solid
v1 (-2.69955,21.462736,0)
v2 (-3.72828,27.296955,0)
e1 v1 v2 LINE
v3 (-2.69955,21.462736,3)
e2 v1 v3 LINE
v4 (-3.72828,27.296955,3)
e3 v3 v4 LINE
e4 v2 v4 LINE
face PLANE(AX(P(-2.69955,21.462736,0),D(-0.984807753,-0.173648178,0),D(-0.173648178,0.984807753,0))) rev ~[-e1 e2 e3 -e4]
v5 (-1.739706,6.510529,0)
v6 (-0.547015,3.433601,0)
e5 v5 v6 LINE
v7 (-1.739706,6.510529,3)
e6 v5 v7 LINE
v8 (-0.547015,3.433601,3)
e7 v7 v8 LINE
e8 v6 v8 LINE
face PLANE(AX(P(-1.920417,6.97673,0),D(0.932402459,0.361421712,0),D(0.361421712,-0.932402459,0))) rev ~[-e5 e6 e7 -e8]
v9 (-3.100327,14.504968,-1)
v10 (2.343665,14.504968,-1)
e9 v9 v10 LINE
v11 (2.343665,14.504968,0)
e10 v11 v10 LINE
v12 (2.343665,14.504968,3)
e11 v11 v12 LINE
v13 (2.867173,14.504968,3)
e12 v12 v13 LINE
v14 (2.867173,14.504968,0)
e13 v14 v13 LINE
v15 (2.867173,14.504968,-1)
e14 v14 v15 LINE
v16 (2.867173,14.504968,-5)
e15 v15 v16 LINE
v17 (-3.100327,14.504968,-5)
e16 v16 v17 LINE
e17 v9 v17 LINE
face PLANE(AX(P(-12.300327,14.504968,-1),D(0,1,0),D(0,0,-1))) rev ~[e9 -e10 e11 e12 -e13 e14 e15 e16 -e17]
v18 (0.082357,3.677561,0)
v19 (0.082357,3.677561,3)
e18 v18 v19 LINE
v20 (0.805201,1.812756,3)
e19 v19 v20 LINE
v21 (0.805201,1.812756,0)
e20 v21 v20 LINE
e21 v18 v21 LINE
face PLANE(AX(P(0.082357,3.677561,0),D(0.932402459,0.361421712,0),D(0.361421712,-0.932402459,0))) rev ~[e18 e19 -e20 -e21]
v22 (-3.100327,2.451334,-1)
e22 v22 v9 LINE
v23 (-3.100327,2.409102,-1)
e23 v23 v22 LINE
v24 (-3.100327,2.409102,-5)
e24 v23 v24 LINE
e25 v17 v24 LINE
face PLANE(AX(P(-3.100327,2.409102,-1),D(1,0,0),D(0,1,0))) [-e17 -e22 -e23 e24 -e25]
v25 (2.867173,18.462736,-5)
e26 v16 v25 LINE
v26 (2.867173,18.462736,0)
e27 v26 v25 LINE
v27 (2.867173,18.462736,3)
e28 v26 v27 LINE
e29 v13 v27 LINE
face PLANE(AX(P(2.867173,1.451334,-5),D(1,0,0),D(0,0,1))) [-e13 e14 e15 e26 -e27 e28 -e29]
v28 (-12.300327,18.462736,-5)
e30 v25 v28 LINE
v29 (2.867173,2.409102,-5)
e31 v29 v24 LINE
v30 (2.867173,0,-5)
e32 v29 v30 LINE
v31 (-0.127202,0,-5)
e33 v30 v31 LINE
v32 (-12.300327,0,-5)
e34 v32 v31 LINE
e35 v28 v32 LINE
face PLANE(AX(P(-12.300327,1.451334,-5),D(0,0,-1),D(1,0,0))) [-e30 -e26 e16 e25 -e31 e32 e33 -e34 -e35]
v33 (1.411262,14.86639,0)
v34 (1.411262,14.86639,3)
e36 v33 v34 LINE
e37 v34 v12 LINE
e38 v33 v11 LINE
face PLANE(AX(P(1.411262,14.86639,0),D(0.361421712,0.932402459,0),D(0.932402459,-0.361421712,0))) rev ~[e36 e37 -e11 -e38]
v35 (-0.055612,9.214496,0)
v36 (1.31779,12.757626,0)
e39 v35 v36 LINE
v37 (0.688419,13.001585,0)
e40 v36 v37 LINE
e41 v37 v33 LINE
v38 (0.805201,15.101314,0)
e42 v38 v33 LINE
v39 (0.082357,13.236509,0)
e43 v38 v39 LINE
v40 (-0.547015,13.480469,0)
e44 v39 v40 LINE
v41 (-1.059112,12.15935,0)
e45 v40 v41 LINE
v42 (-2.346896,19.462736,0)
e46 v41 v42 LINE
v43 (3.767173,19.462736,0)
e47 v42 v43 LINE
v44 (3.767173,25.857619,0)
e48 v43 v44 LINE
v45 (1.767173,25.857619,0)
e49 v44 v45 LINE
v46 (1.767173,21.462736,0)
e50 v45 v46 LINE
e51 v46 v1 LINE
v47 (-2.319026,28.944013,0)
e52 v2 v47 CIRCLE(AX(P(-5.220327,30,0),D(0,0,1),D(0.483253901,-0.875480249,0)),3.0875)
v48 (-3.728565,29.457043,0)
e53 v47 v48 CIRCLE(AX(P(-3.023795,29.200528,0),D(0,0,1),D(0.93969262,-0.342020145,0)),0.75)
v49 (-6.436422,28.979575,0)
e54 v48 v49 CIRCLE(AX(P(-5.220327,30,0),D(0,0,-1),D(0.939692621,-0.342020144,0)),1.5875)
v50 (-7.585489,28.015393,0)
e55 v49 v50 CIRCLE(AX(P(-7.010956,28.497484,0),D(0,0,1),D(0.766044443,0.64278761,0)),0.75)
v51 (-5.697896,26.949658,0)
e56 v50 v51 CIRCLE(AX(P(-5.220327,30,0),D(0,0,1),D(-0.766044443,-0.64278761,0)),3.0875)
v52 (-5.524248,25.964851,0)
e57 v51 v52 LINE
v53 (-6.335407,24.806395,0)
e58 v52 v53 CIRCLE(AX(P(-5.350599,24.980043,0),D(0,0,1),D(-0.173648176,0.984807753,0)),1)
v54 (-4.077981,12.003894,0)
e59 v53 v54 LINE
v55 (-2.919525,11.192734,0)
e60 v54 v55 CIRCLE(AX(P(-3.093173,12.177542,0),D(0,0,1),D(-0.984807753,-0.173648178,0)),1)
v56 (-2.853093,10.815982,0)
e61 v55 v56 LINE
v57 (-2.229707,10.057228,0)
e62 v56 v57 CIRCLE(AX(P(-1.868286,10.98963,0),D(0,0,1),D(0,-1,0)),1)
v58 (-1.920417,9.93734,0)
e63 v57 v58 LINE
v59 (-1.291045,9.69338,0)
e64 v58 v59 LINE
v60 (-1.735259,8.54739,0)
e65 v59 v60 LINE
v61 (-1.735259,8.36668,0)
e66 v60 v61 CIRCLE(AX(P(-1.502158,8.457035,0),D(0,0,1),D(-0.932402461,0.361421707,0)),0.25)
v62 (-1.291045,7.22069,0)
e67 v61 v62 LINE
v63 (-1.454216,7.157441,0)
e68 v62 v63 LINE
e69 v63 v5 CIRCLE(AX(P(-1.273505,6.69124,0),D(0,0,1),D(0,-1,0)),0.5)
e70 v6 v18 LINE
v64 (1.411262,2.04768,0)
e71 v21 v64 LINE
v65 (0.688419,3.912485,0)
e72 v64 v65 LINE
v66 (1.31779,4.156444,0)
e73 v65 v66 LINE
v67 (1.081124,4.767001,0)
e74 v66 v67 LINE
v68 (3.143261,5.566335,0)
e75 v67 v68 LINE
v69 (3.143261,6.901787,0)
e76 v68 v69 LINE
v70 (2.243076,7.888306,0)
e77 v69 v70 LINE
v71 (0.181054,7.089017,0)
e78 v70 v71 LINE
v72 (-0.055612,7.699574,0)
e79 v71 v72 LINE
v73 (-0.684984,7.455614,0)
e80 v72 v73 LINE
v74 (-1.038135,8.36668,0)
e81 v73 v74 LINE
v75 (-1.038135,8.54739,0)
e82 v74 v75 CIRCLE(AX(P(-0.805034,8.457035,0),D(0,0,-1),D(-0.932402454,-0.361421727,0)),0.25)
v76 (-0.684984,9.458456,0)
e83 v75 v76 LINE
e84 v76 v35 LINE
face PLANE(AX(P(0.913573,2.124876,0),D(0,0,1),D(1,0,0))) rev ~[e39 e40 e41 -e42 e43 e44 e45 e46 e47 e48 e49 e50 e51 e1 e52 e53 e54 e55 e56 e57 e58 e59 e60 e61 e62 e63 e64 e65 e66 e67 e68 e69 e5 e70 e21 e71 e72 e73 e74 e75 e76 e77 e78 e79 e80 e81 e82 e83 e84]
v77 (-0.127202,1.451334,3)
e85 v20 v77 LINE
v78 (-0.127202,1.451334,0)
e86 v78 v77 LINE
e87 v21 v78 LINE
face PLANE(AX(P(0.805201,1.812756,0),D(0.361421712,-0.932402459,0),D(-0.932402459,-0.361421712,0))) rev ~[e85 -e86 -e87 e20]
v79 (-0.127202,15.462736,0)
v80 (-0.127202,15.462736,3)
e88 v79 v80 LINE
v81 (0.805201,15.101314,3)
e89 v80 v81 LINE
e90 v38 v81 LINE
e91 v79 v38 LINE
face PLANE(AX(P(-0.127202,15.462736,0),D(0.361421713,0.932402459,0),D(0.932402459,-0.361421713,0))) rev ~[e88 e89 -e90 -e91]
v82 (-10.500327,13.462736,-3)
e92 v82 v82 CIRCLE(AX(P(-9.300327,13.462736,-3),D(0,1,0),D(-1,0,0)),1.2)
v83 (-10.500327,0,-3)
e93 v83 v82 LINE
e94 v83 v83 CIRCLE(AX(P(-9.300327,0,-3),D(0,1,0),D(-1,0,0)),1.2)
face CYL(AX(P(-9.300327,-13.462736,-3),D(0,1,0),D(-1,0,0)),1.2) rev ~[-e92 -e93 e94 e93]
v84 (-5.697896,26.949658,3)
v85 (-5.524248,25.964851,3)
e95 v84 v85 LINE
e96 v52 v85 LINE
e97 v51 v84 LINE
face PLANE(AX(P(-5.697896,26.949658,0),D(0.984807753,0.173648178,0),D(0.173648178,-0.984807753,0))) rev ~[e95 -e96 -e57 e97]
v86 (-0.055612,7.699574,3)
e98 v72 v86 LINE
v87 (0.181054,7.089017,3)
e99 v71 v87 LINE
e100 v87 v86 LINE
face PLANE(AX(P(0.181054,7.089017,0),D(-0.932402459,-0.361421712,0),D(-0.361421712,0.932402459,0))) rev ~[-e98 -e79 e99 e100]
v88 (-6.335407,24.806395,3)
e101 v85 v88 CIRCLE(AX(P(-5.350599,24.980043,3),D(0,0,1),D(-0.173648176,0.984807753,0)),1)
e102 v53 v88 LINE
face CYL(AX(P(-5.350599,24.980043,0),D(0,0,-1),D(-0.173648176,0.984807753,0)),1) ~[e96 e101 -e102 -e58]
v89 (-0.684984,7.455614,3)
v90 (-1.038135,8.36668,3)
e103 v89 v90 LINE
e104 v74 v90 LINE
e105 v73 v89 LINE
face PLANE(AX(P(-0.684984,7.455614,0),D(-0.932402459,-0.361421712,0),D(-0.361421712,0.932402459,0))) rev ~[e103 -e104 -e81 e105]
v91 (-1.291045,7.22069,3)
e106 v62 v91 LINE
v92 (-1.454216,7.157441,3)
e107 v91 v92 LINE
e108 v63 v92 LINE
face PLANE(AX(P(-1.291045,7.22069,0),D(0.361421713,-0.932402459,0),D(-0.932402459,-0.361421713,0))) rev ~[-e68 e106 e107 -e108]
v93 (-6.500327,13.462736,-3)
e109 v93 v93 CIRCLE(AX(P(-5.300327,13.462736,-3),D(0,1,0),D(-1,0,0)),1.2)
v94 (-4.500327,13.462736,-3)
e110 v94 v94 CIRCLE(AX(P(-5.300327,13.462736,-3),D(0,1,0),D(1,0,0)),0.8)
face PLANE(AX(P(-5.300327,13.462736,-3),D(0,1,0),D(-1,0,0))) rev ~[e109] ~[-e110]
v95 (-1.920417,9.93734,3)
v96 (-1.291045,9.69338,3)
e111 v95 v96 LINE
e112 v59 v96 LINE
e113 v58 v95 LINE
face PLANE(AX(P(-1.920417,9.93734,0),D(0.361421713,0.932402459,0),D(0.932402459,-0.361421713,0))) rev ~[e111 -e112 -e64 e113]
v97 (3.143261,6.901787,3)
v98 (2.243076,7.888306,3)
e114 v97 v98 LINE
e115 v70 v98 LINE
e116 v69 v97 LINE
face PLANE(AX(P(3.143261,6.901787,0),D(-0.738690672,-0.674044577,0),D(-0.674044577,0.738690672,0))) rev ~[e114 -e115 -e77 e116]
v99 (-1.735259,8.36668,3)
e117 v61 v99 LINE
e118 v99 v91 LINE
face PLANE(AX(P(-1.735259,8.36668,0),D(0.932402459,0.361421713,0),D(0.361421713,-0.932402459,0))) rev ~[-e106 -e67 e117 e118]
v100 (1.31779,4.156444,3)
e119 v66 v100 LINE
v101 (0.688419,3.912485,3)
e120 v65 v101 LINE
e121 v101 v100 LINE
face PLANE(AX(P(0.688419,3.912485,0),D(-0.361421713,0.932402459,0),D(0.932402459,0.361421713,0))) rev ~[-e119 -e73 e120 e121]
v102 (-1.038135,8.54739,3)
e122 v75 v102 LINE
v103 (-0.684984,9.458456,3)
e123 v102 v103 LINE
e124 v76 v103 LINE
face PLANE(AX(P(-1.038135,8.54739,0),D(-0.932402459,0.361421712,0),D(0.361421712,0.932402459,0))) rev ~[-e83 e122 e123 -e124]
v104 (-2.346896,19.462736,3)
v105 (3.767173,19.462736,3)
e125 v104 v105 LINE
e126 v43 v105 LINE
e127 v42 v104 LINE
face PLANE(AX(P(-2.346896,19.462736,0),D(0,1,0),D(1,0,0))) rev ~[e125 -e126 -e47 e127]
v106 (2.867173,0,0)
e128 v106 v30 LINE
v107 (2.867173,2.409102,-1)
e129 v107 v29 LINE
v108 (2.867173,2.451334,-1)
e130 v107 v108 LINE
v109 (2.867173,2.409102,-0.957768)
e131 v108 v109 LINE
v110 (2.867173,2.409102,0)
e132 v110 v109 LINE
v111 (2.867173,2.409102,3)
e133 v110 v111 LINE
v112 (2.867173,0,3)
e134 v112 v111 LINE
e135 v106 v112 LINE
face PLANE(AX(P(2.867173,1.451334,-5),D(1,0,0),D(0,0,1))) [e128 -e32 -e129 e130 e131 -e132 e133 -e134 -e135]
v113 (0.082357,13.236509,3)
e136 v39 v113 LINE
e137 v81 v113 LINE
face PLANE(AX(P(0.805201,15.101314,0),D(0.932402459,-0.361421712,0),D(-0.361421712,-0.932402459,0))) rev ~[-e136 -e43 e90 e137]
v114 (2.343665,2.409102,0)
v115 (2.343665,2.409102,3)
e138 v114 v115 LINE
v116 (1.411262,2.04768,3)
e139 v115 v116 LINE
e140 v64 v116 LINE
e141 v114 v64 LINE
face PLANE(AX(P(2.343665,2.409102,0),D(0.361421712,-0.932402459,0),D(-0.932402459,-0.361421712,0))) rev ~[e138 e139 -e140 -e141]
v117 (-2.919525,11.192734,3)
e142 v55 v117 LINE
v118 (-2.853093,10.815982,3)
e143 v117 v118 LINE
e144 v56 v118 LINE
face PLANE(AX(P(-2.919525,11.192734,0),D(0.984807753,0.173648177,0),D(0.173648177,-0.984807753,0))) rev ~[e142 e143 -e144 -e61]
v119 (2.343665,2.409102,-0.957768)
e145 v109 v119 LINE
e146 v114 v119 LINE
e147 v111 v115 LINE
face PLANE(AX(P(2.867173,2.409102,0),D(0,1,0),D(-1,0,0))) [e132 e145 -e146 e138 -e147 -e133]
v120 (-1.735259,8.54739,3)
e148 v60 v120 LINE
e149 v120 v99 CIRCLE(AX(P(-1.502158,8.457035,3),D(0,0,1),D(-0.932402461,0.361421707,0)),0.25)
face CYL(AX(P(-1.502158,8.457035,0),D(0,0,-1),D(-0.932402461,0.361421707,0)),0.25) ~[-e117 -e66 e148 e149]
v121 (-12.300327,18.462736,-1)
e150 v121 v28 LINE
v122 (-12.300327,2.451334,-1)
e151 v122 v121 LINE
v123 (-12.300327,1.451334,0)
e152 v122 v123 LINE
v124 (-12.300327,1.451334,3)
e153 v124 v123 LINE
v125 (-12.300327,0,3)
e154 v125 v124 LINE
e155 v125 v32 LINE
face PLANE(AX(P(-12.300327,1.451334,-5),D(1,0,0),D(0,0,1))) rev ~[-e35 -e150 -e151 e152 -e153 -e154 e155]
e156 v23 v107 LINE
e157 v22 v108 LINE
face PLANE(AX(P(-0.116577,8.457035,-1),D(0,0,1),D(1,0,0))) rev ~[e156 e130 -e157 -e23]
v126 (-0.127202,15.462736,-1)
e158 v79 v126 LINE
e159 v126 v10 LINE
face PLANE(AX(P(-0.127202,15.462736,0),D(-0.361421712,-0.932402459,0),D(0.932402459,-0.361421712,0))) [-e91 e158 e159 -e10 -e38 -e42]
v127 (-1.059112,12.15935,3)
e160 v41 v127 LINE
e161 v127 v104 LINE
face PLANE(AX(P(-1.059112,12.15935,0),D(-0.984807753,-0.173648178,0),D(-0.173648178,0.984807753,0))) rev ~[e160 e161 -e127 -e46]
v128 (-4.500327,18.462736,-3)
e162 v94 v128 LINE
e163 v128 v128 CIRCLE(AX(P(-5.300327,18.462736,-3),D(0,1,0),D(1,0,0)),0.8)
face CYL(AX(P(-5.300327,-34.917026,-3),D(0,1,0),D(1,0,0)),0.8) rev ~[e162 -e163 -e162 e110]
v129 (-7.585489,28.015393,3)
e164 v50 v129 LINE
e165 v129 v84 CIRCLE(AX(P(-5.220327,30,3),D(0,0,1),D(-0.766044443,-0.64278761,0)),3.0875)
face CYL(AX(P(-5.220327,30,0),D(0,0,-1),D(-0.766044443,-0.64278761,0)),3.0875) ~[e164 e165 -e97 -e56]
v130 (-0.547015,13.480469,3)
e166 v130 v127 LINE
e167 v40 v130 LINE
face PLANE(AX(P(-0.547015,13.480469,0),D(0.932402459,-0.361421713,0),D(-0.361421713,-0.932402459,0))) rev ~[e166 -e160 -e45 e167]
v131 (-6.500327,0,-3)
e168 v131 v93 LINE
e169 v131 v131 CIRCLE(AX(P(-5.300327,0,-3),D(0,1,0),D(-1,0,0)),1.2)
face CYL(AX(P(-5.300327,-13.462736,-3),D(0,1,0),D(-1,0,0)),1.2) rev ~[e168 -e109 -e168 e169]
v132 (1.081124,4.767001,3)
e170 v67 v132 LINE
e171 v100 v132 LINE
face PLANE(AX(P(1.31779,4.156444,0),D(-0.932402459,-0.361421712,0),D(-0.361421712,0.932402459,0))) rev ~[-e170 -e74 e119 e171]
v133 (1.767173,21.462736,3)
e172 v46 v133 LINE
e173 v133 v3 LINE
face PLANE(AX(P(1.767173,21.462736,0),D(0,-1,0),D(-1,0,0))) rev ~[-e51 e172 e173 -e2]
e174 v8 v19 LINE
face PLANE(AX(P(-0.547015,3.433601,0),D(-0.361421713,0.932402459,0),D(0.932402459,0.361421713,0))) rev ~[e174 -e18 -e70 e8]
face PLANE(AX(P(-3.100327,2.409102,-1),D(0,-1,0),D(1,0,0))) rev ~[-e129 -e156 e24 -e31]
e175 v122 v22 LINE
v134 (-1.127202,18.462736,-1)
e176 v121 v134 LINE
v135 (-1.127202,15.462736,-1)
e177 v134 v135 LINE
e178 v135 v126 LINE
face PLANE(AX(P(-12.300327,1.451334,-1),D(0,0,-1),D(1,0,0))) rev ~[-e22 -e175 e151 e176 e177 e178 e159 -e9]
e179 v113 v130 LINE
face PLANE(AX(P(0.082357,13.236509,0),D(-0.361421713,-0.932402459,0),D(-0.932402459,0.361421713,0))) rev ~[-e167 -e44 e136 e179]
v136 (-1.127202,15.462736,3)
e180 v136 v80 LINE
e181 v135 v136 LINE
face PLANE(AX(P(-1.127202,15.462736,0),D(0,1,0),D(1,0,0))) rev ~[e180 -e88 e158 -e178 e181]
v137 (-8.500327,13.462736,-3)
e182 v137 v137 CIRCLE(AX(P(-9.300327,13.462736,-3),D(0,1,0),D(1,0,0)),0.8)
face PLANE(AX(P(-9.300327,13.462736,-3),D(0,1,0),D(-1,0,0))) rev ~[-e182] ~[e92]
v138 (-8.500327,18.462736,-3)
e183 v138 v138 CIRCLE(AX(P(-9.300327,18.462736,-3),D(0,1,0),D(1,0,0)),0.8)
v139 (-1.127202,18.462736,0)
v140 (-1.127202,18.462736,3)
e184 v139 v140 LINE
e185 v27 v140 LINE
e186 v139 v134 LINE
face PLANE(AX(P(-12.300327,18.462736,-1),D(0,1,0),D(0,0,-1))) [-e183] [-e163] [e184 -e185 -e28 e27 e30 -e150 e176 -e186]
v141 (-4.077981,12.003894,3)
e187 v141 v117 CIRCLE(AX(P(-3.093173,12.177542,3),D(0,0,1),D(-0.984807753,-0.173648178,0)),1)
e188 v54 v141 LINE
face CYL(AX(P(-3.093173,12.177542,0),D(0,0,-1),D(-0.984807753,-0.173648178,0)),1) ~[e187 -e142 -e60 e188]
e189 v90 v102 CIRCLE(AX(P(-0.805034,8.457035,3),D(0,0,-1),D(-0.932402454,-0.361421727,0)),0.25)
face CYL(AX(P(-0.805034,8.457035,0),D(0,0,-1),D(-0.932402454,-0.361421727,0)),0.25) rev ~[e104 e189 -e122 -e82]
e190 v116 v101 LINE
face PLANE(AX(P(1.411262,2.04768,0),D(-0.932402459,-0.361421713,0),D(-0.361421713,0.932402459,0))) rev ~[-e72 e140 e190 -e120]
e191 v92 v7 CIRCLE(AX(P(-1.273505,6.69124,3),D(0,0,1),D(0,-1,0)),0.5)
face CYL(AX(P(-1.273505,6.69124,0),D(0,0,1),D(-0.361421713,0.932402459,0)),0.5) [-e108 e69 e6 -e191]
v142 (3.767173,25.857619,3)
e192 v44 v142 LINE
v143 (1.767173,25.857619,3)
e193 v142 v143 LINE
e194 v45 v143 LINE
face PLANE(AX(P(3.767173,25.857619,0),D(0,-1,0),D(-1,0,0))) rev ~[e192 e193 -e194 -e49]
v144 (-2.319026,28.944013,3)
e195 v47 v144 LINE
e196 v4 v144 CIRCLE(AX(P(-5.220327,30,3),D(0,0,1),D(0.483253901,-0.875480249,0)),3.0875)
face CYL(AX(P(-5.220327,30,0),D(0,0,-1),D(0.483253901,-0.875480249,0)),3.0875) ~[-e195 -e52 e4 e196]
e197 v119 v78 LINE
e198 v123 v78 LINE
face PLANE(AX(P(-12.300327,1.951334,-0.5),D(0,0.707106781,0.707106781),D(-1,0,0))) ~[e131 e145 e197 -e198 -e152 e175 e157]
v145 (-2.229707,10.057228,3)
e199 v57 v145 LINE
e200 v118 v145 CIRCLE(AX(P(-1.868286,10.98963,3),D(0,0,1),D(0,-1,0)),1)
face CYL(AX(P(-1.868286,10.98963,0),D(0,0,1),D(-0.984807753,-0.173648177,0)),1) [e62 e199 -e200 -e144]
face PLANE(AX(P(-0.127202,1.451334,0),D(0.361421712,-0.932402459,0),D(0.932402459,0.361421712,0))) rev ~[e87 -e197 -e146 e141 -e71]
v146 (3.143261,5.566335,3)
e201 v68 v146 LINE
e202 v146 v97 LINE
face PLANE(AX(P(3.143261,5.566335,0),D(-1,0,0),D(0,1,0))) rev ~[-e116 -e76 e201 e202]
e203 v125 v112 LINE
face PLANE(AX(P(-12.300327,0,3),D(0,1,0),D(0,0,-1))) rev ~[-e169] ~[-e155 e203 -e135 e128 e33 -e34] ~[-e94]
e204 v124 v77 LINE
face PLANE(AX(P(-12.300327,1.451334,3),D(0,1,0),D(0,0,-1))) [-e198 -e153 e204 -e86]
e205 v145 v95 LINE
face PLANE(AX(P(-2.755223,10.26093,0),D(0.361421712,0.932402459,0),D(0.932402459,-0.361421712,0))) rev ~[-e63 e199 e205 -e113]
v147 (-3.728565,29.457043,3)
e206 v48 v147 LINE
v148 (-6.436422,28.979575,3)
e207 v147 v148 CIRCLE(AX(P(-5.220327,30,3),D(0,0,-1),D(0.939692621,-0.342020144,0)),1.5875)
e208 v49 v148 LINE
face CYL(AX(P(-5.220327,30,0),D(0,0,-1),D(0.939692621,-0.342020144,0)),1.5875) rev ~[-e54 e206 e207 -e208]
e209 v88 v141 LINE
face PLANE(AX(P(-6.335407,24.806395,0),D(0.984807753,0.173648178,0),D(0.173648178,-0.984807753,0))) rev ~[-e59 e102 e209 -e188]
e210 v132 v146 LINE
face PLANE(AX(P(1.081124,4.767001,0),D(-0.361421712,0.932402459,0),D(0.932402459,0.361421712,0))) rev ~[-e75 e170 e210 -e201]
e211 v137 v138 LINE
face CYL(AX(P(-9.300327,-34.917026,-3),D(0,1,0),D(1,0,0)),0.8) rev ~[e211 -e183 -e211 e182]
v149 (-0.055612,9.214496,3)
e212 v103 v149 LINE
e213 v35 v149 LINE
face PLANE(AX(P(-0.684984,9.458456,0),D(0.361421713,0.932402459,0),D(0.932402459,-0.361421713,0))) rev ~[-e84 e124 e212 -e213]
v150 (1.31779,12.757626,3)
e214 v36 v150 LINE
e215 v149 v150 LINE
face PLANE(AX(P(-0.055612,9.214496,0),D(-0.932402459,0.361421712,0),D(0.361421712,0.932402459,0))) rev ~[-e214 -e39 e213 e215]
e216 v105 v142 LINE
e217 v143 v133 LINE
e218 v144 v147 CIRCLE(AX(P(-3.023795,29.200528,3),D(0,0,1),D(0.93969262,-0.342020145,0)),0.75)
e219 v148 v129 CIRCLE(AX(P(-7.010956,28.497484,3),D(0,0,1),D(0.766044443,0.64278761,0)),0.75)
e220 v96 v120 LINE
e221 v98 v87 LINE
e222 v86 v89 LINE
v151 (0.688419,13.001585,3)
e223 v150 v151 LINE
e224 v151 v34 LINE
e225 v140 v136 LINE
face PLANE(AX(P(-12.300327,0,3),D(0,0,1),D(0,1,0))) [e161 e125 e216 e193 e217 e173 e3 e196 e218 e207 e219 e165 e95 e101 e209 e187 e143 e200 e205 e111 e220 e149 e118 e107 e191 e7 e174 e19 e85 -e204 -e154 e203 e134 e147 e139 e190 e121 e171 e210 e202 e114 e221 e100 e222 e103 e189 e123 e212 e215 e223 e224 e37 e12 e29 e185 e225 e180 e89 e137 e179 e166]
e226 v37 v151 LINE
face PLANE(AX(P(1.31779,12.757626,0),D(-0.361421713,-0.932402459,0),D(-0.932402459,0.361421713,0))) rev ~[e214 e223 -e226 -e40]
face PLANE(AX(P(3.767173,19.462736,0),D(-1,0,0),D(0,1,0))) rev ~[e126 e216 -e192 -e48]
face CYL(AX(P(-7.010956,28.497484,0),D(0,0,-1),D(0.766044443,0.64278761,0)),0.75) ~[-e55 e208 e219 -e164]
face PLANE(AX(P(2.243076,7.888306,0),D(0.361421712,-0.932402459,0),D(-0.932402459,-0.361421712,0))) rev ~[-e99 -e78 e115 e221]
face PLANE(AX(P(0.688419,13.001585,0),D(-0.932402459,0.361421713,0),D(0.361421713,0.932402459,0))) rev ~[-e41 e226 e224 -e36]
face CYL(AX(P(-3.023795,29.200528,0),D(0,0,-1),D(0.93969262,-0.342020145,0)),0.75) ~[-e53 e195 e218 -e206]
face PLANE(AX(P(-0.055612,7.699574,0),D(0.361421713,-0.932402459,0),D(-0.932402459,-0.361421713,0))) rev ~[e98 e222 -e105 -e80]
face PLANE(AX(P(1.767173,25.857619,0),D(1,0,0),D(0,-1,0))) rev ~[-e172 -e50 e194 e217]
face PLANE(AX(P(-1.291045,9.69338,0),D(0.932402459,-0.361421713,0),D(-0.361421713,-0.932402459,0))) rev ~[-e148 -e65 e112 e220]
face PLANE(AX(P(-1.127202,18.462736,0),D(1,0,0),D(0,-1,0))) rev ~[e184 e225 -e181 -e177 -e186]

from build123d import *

# Parameters (mm, degrees)
BOSS_SWITCH_BODY_DEPTH            = 3
SKETCH1_W                         = 2.994375291
SKETCH1_H                         = 2.409101515
SKETCH1_W_2                       = 3.994375291
SKETCH1_H_2                       = 3.957767538
BOSS_FLANGE_WIDTH_DEPTH           = 5
BOSS_FLANGE_HEIGHT_REACH          = 36.354
SKETCH2_W                         = 4
SKETCH2_H                         = 3.957767538
SKETCH2_W_2                       = 8
SKETCH2_H_2                       = 1.451333978
SKETCH17_W                        = 15.1675
SKETCH17_H                        = 4
BOSS_FLANGE_SUPPORT_DEPTH         = 13.053634428
CUT_WALL_GAP_DEPTH                = 1
TAP_DRILL_FOR_M2X0_4_TAP1_D       = 1.6
M2_CLEARANCE_HOLE2_D              = 2.4
M2_CLEARANCE_HOLE2_DEPTH          = 13.462735941
CHAMFER_FLANGE_SUPPORT_3_SIZE     = 1
FILLET1_R                         = 1
FILLET2_R                         = 0.5
SKETCH28_W                        = 5.9675
SKETCH28_H                        = 12.095866891
CUT_PRINT_SUPPORT_CLEARANCE_DEPTH = 33.624103931


with BuildPart() as part:
    # Sketch-SwitchBossUp → Boss-Switch Body (new body)
    with BuildSketch(Plane.XY):
        with BuildLine():
            Line((-5.697895702, 26.949658376), (-5.524247524, 25.964850623))
            ThreePointArc((-5.524247524, 25.964850623), (-6.169751391, 25.553619307), (-6.3354071, 24.806394693))
            Line((-6.3354071, 24.806394693), (-4.07798079, 12.003893904))
            ThreePointArc((-4.07798079, 12.003893904), (-3.666749473, 11.358390037), (-2.919524859, 11.192734328))
            Line((-2.919524859, 11.192734328), (-2.755222696, 10.260930457))
            Line((-2.755222696, 10.260930457), (-1.920417042, 9.937339624))
            Line((-1.920417042, 9.937339624), (-1.291045382, 9.693379968))
            Line((-1.291045382, 9.693379968), (-1.735258621, 8.547390389))
            ThreePointArc((-1.735258621, 8.547390389), (-1.752158006, 8.457034961), (-1.735258621, 8.366679532))
            Line((-1.735258621, 8.366679532), (-1.291045382, 7.220689953))
            Line((-1.291045382, 7.220689953), (-1.920417042, 6.976730297))
            Line((-1.920417042, 6.976730297), (-0.547014535, 3.433600952))
            Line((-0.547014535, 3.433600952), (0.082357125, 3.677560608))
            Line((0.082357125, 3.677560608), (0.805200549, 1.81275569))
            Line((0.805200549, 1.81275569), (-0.12720191, 1.451333978))
            Line((-0.12720191, 1.451333978), (-0.12720191, 0))
            Line((-0.12720191, 0), (2.867173381, 0))
            Line((2.867173381, 0), (2.867173381, 2.409101515))
            Line((2.867173381, 2.409101515), (2.343664607, 2.409101515))
            Line((2.343664607, 2.409101515), (1.411262148, 2.047679803))
            Line((1.411262148, 2.047679803), (0.688418723, 3.912484721))
            Line((0.688418723, 3.912484721), (1.317790383, 4.156444377))
            Line((1.317790383, 4.156444377), (1.081123773, 4.767001302))
            Line((1.081123773, 4.767001302), (3.143260738, 5.566335394))
            Line((3.143260738, 5.566335394), (3.143260738, 6.901787438))
            Line((3.143260738, 6.901787438), (2.24307649, 7.888306327))
            Line((2.24307649, 7.888306327), (0.181054486, 7.089016797))
            Line((0.181054486, 7.089016797), (-0.055612124, 7.699573722))
            Line((-0.055612124, 7.699573722), (-0.684983784, 7.455614066))
            Line((-0.684983784, 7.455614066), (-1.038134762, 8.366679532))
            ThreePointArc((-1.038134762, 8.366679532), (-1.055034148, 8.457034961), (-1.038134762, 8.547390389))
            Line((-1.038134762, 8.547390389), (-0.684983784, 9.458455855))
            Line((-0.684983784, 9.458455855), (-0.055612124, 9.214496199))
            Line((-0.055612124, 9.214496199), (1.317790383, 12.757625544))
            Line((1.317790383, 12.757625544), (0.688418723, 13.0015852))
            Line((0.688418723, 13.0015852), (1.411262148, 14.866390118))
            Line((1.411262148, 14.866390118), (2.343664607, 14.504968406))
            Line((2.343664607, 14.504968406), (2.867173381, 14.504968406))
            Line((2.867173381, 14.504968406), (2.867173381, 18.462735944))
            Line((2.867173381, 18.462735944), (-0.111637615, 18.462735944))
            Line((-0.111637615, 18.462735944), (-1.12720191, 18.462735944))
            Line((-1.12720191, 18.462735944), (-1.12720191, 15.462735944))
            Line((-1.12720191, 15.462735944), (-0.12720191, 15.462735944))
            Line((-0.12720191, 15.462735944), (0.805200549, 15.101314231))
            Line((0.805200549, 15.101314231), (0.082357125, 13.236509313))
            Line((0.082357125, 13.236509313), (-0.547014535, 13.480468969))
            Line((-0.547014535, 13.480468969), (-1.059112089, 12.159350171))
            Line((-1.059112089, 12.159350171), (-2.346896051, 19.462735944))
            Line((-2.346896051, 19.462735944), (3.767173381, 19.462735944))
            Line((3.767173381, 19.462735944), (3.767173381, 25.857619356))
            Line((3.767173381, 25.857619356), (1.767173381, 25.857619356))
            Line((1.767173381, 25.857619356), (1.767173381, 21.462735944))
            Line((1.767173381, 21.462735944), (-2.699550012, 21.462735944))
            Line((-2.699550012, 21.462735944), (-3.728280196, 27.296954732))
            ThreePointArc((-3.728280196, 27.296954732), (-2.874356585, 27.992742953), (-2.319025652, 28.944012807))
            ThreePointArc((-2.319025652, 28.944012807), (-2.76728001, 29.905297381), (-3.728564583, 29.457043022))
            ThreePointArc((-3.728564583, 29.457043022), (-4.944660137, 28.436617692), (-6.436422172, 28.97957467))
            ThreePointArc((-6.436422172, 28.97957467), (-7.493046212, 29.072017295), (-7.585488837, 28.015393255))
            ThreePointArc((-7.585488837, 28.015393255), (-6.738295005, 27.311426358), (-5.697895702, 26.949658376))
        make_face()
    extrude(amount=BOSS_SWITCH_BODY_DEPTH)

    # Sketch1 → Boss-Flange Width (add)
    with BuildSketch(Plane(origin=(0, 0, 0), x_dir=(-1, 0, 0), z_dir=(0, 0, -1))):
        with Locations((-1.369985736, 1.204550758)):
            Rectangle(SKETCH1_W, SKETCH1_H)
        with Locations((-0.869985736, 16.483852175)):
            Rectangle(SKETCH1_W_2, SKETCH1_H_2)
    extrude(amount=BOSS_FLANGE_WIDTH_DEPTH)

    # Boss-Flange Height: up to this face of the body (flat: up to its plane)
    boss_flange_height_end = Plane(part.part.faces().sort_by_distance((-0.12720191, 1.077409098, -1.438016547))[0])
    # Sketch2 → Boss-Flange Height (add, up to the picked face)
    with BuildSketch(Plane(origin=(-12.300326619, 0, 0), x_dir=(0, 0, -1), z_dir=(1, 0, 0)), mode=Mode.PRIVATE) as boss_flange_height_sk1:
        with Locations((3, 16.483852175)):
            Rectangle(SKETCH2_W, SKETCH2_H)
    boss_flange_height_tool1 = split(extrude(boss_flange_height_sk1.sketch, amount=BOSS_FLANGE_HEIGHT_REACH, mode=Mode.PRIVATE), bisect_by=boss_flange_height_end, keep=Keep.BOTH, mode=Mode.PRIVATE)
    # Sketch2 → Boss-Flange Height (add, up to the picked face)
    with BuildSketch(Plane(origin=(-12.300326619, 0, 0), x_dir=(0, 0, -1), z_dir=(1, 0, 0)), mode=Mode.PRIVATE) as boss_flange_height_sk2:
        with Locations((1, 0.725666989)):
            Rectangle(SKETCH2_W_2, SKETCH2_H_2)
    boss_flange_height_tool2 = split(extrude(boss_flange_height_sk2.sketch, amount=BOSS_FLANGE_HEIGHT_REACH, mode=Mode.PRIVATE), bisect_by=boss_flange_height_end, keep=Keep.BOTH, mode=Mode.PRIVATE)
    add(boss_flange_height_tool1.solids().sort_by(Axis((-12.300327, 16.483852, -3), (1, 0, 0)))[0])
    add(boss_flange_height_tool2.solids().sort_by(Axis((-12.300327, 0.725667, -1), (1, 0, 0)))[0])

    # Sketch17 → Boss-Flange Support (add)
    with BuildSketch(Plane.XZ.offset(-1.451333978)):
        with Locations((-4.716576619, -3)):
            Rectangle(SKETCH17_W, SKETCH17_H)
    extrude(amount=-BOSS_FLANGE_SUPPORT_DEPTH)

    # Sketch27 → Cut-Wall Gap (cut)
    with BuildSketch(Plane.XY):
        Polygon((-0.12720191, 15.462735944), (2.343664607, 14.504968406), (-1.12720191, 14.504968406), (-1.12720191, 15.462735944), align=None)
        Polygon((2.343664607, 2.409101515), (-0.12720191, 2.409101515), (-0.12720191, 1.451333978), align=None)
    extrude(amount=-CUT_WALL_GAP_DEPTH, mode=Mode.SUBTRACT)

    # Tap Drill for M2x0.4 Tap1 (through all)
    with Locations(Plane(origin=(0, 0, 0), x_dir=(-1, 0, 0), z_dir=(0, -1, 0))):
        with Locations((9.300326619, 3), (5.300326619, 3)):
            Hole(TAP_DRILL_FOR_M2X0_4_TAP1_D / 2)

    # M2 Clearance Hole2
    with Locations(Plane.XZ):
        with Locations((-9.300326619, -3), (-5.300326619, -3)):
            Hole(M2_CLEARANCE_HOLE2_D / 2, depth=M2_CLEARANCE_HOLE2_DEPTH)

    # Chamfer-Flange Support 3
    chamfer_flange_support_3_edges = [part.edges().sort_by_distance(p)[0] for p in [
        (-6.213764264, 1.451333978, -1),
    ]]
    chamfer(chamfer_flange_support_3_edges, length=CHAMFER_FLANGE_SUPPORT_3_SIZE)

    # Fillet1
    fillet1_edges = [part.edges().sort_by_distance(p)[0] for p in [
        (-2.755222696, 10.260930457, 1.5),
    ]]
    fillet(fillet1_edges, radius=FILLET1_R)

    # Fillet2
    fillet2_edges = [part.edges().sort_by_distance(p)[0] for p in [
        (-1.920417042, 6.976730297, 1.5),
    ]]
    fillet(fillet2_edges, radius=FILLET2_R)

    # Sketch28 → Cut-Print Support Clearance (cut, through all)
    with BuildSketch(Plane.XY.offset(-1)):
        with Locations((-0.116576619, 8.457034961)):
            Rectangle(SKETCH28_W, SKETCH28_H)
    extrude(amount=-CUT_PRINT_SUPPORT_CLEARANCE_DEPTH, mode=Mode.SUBTRACT)


solid = part.part
